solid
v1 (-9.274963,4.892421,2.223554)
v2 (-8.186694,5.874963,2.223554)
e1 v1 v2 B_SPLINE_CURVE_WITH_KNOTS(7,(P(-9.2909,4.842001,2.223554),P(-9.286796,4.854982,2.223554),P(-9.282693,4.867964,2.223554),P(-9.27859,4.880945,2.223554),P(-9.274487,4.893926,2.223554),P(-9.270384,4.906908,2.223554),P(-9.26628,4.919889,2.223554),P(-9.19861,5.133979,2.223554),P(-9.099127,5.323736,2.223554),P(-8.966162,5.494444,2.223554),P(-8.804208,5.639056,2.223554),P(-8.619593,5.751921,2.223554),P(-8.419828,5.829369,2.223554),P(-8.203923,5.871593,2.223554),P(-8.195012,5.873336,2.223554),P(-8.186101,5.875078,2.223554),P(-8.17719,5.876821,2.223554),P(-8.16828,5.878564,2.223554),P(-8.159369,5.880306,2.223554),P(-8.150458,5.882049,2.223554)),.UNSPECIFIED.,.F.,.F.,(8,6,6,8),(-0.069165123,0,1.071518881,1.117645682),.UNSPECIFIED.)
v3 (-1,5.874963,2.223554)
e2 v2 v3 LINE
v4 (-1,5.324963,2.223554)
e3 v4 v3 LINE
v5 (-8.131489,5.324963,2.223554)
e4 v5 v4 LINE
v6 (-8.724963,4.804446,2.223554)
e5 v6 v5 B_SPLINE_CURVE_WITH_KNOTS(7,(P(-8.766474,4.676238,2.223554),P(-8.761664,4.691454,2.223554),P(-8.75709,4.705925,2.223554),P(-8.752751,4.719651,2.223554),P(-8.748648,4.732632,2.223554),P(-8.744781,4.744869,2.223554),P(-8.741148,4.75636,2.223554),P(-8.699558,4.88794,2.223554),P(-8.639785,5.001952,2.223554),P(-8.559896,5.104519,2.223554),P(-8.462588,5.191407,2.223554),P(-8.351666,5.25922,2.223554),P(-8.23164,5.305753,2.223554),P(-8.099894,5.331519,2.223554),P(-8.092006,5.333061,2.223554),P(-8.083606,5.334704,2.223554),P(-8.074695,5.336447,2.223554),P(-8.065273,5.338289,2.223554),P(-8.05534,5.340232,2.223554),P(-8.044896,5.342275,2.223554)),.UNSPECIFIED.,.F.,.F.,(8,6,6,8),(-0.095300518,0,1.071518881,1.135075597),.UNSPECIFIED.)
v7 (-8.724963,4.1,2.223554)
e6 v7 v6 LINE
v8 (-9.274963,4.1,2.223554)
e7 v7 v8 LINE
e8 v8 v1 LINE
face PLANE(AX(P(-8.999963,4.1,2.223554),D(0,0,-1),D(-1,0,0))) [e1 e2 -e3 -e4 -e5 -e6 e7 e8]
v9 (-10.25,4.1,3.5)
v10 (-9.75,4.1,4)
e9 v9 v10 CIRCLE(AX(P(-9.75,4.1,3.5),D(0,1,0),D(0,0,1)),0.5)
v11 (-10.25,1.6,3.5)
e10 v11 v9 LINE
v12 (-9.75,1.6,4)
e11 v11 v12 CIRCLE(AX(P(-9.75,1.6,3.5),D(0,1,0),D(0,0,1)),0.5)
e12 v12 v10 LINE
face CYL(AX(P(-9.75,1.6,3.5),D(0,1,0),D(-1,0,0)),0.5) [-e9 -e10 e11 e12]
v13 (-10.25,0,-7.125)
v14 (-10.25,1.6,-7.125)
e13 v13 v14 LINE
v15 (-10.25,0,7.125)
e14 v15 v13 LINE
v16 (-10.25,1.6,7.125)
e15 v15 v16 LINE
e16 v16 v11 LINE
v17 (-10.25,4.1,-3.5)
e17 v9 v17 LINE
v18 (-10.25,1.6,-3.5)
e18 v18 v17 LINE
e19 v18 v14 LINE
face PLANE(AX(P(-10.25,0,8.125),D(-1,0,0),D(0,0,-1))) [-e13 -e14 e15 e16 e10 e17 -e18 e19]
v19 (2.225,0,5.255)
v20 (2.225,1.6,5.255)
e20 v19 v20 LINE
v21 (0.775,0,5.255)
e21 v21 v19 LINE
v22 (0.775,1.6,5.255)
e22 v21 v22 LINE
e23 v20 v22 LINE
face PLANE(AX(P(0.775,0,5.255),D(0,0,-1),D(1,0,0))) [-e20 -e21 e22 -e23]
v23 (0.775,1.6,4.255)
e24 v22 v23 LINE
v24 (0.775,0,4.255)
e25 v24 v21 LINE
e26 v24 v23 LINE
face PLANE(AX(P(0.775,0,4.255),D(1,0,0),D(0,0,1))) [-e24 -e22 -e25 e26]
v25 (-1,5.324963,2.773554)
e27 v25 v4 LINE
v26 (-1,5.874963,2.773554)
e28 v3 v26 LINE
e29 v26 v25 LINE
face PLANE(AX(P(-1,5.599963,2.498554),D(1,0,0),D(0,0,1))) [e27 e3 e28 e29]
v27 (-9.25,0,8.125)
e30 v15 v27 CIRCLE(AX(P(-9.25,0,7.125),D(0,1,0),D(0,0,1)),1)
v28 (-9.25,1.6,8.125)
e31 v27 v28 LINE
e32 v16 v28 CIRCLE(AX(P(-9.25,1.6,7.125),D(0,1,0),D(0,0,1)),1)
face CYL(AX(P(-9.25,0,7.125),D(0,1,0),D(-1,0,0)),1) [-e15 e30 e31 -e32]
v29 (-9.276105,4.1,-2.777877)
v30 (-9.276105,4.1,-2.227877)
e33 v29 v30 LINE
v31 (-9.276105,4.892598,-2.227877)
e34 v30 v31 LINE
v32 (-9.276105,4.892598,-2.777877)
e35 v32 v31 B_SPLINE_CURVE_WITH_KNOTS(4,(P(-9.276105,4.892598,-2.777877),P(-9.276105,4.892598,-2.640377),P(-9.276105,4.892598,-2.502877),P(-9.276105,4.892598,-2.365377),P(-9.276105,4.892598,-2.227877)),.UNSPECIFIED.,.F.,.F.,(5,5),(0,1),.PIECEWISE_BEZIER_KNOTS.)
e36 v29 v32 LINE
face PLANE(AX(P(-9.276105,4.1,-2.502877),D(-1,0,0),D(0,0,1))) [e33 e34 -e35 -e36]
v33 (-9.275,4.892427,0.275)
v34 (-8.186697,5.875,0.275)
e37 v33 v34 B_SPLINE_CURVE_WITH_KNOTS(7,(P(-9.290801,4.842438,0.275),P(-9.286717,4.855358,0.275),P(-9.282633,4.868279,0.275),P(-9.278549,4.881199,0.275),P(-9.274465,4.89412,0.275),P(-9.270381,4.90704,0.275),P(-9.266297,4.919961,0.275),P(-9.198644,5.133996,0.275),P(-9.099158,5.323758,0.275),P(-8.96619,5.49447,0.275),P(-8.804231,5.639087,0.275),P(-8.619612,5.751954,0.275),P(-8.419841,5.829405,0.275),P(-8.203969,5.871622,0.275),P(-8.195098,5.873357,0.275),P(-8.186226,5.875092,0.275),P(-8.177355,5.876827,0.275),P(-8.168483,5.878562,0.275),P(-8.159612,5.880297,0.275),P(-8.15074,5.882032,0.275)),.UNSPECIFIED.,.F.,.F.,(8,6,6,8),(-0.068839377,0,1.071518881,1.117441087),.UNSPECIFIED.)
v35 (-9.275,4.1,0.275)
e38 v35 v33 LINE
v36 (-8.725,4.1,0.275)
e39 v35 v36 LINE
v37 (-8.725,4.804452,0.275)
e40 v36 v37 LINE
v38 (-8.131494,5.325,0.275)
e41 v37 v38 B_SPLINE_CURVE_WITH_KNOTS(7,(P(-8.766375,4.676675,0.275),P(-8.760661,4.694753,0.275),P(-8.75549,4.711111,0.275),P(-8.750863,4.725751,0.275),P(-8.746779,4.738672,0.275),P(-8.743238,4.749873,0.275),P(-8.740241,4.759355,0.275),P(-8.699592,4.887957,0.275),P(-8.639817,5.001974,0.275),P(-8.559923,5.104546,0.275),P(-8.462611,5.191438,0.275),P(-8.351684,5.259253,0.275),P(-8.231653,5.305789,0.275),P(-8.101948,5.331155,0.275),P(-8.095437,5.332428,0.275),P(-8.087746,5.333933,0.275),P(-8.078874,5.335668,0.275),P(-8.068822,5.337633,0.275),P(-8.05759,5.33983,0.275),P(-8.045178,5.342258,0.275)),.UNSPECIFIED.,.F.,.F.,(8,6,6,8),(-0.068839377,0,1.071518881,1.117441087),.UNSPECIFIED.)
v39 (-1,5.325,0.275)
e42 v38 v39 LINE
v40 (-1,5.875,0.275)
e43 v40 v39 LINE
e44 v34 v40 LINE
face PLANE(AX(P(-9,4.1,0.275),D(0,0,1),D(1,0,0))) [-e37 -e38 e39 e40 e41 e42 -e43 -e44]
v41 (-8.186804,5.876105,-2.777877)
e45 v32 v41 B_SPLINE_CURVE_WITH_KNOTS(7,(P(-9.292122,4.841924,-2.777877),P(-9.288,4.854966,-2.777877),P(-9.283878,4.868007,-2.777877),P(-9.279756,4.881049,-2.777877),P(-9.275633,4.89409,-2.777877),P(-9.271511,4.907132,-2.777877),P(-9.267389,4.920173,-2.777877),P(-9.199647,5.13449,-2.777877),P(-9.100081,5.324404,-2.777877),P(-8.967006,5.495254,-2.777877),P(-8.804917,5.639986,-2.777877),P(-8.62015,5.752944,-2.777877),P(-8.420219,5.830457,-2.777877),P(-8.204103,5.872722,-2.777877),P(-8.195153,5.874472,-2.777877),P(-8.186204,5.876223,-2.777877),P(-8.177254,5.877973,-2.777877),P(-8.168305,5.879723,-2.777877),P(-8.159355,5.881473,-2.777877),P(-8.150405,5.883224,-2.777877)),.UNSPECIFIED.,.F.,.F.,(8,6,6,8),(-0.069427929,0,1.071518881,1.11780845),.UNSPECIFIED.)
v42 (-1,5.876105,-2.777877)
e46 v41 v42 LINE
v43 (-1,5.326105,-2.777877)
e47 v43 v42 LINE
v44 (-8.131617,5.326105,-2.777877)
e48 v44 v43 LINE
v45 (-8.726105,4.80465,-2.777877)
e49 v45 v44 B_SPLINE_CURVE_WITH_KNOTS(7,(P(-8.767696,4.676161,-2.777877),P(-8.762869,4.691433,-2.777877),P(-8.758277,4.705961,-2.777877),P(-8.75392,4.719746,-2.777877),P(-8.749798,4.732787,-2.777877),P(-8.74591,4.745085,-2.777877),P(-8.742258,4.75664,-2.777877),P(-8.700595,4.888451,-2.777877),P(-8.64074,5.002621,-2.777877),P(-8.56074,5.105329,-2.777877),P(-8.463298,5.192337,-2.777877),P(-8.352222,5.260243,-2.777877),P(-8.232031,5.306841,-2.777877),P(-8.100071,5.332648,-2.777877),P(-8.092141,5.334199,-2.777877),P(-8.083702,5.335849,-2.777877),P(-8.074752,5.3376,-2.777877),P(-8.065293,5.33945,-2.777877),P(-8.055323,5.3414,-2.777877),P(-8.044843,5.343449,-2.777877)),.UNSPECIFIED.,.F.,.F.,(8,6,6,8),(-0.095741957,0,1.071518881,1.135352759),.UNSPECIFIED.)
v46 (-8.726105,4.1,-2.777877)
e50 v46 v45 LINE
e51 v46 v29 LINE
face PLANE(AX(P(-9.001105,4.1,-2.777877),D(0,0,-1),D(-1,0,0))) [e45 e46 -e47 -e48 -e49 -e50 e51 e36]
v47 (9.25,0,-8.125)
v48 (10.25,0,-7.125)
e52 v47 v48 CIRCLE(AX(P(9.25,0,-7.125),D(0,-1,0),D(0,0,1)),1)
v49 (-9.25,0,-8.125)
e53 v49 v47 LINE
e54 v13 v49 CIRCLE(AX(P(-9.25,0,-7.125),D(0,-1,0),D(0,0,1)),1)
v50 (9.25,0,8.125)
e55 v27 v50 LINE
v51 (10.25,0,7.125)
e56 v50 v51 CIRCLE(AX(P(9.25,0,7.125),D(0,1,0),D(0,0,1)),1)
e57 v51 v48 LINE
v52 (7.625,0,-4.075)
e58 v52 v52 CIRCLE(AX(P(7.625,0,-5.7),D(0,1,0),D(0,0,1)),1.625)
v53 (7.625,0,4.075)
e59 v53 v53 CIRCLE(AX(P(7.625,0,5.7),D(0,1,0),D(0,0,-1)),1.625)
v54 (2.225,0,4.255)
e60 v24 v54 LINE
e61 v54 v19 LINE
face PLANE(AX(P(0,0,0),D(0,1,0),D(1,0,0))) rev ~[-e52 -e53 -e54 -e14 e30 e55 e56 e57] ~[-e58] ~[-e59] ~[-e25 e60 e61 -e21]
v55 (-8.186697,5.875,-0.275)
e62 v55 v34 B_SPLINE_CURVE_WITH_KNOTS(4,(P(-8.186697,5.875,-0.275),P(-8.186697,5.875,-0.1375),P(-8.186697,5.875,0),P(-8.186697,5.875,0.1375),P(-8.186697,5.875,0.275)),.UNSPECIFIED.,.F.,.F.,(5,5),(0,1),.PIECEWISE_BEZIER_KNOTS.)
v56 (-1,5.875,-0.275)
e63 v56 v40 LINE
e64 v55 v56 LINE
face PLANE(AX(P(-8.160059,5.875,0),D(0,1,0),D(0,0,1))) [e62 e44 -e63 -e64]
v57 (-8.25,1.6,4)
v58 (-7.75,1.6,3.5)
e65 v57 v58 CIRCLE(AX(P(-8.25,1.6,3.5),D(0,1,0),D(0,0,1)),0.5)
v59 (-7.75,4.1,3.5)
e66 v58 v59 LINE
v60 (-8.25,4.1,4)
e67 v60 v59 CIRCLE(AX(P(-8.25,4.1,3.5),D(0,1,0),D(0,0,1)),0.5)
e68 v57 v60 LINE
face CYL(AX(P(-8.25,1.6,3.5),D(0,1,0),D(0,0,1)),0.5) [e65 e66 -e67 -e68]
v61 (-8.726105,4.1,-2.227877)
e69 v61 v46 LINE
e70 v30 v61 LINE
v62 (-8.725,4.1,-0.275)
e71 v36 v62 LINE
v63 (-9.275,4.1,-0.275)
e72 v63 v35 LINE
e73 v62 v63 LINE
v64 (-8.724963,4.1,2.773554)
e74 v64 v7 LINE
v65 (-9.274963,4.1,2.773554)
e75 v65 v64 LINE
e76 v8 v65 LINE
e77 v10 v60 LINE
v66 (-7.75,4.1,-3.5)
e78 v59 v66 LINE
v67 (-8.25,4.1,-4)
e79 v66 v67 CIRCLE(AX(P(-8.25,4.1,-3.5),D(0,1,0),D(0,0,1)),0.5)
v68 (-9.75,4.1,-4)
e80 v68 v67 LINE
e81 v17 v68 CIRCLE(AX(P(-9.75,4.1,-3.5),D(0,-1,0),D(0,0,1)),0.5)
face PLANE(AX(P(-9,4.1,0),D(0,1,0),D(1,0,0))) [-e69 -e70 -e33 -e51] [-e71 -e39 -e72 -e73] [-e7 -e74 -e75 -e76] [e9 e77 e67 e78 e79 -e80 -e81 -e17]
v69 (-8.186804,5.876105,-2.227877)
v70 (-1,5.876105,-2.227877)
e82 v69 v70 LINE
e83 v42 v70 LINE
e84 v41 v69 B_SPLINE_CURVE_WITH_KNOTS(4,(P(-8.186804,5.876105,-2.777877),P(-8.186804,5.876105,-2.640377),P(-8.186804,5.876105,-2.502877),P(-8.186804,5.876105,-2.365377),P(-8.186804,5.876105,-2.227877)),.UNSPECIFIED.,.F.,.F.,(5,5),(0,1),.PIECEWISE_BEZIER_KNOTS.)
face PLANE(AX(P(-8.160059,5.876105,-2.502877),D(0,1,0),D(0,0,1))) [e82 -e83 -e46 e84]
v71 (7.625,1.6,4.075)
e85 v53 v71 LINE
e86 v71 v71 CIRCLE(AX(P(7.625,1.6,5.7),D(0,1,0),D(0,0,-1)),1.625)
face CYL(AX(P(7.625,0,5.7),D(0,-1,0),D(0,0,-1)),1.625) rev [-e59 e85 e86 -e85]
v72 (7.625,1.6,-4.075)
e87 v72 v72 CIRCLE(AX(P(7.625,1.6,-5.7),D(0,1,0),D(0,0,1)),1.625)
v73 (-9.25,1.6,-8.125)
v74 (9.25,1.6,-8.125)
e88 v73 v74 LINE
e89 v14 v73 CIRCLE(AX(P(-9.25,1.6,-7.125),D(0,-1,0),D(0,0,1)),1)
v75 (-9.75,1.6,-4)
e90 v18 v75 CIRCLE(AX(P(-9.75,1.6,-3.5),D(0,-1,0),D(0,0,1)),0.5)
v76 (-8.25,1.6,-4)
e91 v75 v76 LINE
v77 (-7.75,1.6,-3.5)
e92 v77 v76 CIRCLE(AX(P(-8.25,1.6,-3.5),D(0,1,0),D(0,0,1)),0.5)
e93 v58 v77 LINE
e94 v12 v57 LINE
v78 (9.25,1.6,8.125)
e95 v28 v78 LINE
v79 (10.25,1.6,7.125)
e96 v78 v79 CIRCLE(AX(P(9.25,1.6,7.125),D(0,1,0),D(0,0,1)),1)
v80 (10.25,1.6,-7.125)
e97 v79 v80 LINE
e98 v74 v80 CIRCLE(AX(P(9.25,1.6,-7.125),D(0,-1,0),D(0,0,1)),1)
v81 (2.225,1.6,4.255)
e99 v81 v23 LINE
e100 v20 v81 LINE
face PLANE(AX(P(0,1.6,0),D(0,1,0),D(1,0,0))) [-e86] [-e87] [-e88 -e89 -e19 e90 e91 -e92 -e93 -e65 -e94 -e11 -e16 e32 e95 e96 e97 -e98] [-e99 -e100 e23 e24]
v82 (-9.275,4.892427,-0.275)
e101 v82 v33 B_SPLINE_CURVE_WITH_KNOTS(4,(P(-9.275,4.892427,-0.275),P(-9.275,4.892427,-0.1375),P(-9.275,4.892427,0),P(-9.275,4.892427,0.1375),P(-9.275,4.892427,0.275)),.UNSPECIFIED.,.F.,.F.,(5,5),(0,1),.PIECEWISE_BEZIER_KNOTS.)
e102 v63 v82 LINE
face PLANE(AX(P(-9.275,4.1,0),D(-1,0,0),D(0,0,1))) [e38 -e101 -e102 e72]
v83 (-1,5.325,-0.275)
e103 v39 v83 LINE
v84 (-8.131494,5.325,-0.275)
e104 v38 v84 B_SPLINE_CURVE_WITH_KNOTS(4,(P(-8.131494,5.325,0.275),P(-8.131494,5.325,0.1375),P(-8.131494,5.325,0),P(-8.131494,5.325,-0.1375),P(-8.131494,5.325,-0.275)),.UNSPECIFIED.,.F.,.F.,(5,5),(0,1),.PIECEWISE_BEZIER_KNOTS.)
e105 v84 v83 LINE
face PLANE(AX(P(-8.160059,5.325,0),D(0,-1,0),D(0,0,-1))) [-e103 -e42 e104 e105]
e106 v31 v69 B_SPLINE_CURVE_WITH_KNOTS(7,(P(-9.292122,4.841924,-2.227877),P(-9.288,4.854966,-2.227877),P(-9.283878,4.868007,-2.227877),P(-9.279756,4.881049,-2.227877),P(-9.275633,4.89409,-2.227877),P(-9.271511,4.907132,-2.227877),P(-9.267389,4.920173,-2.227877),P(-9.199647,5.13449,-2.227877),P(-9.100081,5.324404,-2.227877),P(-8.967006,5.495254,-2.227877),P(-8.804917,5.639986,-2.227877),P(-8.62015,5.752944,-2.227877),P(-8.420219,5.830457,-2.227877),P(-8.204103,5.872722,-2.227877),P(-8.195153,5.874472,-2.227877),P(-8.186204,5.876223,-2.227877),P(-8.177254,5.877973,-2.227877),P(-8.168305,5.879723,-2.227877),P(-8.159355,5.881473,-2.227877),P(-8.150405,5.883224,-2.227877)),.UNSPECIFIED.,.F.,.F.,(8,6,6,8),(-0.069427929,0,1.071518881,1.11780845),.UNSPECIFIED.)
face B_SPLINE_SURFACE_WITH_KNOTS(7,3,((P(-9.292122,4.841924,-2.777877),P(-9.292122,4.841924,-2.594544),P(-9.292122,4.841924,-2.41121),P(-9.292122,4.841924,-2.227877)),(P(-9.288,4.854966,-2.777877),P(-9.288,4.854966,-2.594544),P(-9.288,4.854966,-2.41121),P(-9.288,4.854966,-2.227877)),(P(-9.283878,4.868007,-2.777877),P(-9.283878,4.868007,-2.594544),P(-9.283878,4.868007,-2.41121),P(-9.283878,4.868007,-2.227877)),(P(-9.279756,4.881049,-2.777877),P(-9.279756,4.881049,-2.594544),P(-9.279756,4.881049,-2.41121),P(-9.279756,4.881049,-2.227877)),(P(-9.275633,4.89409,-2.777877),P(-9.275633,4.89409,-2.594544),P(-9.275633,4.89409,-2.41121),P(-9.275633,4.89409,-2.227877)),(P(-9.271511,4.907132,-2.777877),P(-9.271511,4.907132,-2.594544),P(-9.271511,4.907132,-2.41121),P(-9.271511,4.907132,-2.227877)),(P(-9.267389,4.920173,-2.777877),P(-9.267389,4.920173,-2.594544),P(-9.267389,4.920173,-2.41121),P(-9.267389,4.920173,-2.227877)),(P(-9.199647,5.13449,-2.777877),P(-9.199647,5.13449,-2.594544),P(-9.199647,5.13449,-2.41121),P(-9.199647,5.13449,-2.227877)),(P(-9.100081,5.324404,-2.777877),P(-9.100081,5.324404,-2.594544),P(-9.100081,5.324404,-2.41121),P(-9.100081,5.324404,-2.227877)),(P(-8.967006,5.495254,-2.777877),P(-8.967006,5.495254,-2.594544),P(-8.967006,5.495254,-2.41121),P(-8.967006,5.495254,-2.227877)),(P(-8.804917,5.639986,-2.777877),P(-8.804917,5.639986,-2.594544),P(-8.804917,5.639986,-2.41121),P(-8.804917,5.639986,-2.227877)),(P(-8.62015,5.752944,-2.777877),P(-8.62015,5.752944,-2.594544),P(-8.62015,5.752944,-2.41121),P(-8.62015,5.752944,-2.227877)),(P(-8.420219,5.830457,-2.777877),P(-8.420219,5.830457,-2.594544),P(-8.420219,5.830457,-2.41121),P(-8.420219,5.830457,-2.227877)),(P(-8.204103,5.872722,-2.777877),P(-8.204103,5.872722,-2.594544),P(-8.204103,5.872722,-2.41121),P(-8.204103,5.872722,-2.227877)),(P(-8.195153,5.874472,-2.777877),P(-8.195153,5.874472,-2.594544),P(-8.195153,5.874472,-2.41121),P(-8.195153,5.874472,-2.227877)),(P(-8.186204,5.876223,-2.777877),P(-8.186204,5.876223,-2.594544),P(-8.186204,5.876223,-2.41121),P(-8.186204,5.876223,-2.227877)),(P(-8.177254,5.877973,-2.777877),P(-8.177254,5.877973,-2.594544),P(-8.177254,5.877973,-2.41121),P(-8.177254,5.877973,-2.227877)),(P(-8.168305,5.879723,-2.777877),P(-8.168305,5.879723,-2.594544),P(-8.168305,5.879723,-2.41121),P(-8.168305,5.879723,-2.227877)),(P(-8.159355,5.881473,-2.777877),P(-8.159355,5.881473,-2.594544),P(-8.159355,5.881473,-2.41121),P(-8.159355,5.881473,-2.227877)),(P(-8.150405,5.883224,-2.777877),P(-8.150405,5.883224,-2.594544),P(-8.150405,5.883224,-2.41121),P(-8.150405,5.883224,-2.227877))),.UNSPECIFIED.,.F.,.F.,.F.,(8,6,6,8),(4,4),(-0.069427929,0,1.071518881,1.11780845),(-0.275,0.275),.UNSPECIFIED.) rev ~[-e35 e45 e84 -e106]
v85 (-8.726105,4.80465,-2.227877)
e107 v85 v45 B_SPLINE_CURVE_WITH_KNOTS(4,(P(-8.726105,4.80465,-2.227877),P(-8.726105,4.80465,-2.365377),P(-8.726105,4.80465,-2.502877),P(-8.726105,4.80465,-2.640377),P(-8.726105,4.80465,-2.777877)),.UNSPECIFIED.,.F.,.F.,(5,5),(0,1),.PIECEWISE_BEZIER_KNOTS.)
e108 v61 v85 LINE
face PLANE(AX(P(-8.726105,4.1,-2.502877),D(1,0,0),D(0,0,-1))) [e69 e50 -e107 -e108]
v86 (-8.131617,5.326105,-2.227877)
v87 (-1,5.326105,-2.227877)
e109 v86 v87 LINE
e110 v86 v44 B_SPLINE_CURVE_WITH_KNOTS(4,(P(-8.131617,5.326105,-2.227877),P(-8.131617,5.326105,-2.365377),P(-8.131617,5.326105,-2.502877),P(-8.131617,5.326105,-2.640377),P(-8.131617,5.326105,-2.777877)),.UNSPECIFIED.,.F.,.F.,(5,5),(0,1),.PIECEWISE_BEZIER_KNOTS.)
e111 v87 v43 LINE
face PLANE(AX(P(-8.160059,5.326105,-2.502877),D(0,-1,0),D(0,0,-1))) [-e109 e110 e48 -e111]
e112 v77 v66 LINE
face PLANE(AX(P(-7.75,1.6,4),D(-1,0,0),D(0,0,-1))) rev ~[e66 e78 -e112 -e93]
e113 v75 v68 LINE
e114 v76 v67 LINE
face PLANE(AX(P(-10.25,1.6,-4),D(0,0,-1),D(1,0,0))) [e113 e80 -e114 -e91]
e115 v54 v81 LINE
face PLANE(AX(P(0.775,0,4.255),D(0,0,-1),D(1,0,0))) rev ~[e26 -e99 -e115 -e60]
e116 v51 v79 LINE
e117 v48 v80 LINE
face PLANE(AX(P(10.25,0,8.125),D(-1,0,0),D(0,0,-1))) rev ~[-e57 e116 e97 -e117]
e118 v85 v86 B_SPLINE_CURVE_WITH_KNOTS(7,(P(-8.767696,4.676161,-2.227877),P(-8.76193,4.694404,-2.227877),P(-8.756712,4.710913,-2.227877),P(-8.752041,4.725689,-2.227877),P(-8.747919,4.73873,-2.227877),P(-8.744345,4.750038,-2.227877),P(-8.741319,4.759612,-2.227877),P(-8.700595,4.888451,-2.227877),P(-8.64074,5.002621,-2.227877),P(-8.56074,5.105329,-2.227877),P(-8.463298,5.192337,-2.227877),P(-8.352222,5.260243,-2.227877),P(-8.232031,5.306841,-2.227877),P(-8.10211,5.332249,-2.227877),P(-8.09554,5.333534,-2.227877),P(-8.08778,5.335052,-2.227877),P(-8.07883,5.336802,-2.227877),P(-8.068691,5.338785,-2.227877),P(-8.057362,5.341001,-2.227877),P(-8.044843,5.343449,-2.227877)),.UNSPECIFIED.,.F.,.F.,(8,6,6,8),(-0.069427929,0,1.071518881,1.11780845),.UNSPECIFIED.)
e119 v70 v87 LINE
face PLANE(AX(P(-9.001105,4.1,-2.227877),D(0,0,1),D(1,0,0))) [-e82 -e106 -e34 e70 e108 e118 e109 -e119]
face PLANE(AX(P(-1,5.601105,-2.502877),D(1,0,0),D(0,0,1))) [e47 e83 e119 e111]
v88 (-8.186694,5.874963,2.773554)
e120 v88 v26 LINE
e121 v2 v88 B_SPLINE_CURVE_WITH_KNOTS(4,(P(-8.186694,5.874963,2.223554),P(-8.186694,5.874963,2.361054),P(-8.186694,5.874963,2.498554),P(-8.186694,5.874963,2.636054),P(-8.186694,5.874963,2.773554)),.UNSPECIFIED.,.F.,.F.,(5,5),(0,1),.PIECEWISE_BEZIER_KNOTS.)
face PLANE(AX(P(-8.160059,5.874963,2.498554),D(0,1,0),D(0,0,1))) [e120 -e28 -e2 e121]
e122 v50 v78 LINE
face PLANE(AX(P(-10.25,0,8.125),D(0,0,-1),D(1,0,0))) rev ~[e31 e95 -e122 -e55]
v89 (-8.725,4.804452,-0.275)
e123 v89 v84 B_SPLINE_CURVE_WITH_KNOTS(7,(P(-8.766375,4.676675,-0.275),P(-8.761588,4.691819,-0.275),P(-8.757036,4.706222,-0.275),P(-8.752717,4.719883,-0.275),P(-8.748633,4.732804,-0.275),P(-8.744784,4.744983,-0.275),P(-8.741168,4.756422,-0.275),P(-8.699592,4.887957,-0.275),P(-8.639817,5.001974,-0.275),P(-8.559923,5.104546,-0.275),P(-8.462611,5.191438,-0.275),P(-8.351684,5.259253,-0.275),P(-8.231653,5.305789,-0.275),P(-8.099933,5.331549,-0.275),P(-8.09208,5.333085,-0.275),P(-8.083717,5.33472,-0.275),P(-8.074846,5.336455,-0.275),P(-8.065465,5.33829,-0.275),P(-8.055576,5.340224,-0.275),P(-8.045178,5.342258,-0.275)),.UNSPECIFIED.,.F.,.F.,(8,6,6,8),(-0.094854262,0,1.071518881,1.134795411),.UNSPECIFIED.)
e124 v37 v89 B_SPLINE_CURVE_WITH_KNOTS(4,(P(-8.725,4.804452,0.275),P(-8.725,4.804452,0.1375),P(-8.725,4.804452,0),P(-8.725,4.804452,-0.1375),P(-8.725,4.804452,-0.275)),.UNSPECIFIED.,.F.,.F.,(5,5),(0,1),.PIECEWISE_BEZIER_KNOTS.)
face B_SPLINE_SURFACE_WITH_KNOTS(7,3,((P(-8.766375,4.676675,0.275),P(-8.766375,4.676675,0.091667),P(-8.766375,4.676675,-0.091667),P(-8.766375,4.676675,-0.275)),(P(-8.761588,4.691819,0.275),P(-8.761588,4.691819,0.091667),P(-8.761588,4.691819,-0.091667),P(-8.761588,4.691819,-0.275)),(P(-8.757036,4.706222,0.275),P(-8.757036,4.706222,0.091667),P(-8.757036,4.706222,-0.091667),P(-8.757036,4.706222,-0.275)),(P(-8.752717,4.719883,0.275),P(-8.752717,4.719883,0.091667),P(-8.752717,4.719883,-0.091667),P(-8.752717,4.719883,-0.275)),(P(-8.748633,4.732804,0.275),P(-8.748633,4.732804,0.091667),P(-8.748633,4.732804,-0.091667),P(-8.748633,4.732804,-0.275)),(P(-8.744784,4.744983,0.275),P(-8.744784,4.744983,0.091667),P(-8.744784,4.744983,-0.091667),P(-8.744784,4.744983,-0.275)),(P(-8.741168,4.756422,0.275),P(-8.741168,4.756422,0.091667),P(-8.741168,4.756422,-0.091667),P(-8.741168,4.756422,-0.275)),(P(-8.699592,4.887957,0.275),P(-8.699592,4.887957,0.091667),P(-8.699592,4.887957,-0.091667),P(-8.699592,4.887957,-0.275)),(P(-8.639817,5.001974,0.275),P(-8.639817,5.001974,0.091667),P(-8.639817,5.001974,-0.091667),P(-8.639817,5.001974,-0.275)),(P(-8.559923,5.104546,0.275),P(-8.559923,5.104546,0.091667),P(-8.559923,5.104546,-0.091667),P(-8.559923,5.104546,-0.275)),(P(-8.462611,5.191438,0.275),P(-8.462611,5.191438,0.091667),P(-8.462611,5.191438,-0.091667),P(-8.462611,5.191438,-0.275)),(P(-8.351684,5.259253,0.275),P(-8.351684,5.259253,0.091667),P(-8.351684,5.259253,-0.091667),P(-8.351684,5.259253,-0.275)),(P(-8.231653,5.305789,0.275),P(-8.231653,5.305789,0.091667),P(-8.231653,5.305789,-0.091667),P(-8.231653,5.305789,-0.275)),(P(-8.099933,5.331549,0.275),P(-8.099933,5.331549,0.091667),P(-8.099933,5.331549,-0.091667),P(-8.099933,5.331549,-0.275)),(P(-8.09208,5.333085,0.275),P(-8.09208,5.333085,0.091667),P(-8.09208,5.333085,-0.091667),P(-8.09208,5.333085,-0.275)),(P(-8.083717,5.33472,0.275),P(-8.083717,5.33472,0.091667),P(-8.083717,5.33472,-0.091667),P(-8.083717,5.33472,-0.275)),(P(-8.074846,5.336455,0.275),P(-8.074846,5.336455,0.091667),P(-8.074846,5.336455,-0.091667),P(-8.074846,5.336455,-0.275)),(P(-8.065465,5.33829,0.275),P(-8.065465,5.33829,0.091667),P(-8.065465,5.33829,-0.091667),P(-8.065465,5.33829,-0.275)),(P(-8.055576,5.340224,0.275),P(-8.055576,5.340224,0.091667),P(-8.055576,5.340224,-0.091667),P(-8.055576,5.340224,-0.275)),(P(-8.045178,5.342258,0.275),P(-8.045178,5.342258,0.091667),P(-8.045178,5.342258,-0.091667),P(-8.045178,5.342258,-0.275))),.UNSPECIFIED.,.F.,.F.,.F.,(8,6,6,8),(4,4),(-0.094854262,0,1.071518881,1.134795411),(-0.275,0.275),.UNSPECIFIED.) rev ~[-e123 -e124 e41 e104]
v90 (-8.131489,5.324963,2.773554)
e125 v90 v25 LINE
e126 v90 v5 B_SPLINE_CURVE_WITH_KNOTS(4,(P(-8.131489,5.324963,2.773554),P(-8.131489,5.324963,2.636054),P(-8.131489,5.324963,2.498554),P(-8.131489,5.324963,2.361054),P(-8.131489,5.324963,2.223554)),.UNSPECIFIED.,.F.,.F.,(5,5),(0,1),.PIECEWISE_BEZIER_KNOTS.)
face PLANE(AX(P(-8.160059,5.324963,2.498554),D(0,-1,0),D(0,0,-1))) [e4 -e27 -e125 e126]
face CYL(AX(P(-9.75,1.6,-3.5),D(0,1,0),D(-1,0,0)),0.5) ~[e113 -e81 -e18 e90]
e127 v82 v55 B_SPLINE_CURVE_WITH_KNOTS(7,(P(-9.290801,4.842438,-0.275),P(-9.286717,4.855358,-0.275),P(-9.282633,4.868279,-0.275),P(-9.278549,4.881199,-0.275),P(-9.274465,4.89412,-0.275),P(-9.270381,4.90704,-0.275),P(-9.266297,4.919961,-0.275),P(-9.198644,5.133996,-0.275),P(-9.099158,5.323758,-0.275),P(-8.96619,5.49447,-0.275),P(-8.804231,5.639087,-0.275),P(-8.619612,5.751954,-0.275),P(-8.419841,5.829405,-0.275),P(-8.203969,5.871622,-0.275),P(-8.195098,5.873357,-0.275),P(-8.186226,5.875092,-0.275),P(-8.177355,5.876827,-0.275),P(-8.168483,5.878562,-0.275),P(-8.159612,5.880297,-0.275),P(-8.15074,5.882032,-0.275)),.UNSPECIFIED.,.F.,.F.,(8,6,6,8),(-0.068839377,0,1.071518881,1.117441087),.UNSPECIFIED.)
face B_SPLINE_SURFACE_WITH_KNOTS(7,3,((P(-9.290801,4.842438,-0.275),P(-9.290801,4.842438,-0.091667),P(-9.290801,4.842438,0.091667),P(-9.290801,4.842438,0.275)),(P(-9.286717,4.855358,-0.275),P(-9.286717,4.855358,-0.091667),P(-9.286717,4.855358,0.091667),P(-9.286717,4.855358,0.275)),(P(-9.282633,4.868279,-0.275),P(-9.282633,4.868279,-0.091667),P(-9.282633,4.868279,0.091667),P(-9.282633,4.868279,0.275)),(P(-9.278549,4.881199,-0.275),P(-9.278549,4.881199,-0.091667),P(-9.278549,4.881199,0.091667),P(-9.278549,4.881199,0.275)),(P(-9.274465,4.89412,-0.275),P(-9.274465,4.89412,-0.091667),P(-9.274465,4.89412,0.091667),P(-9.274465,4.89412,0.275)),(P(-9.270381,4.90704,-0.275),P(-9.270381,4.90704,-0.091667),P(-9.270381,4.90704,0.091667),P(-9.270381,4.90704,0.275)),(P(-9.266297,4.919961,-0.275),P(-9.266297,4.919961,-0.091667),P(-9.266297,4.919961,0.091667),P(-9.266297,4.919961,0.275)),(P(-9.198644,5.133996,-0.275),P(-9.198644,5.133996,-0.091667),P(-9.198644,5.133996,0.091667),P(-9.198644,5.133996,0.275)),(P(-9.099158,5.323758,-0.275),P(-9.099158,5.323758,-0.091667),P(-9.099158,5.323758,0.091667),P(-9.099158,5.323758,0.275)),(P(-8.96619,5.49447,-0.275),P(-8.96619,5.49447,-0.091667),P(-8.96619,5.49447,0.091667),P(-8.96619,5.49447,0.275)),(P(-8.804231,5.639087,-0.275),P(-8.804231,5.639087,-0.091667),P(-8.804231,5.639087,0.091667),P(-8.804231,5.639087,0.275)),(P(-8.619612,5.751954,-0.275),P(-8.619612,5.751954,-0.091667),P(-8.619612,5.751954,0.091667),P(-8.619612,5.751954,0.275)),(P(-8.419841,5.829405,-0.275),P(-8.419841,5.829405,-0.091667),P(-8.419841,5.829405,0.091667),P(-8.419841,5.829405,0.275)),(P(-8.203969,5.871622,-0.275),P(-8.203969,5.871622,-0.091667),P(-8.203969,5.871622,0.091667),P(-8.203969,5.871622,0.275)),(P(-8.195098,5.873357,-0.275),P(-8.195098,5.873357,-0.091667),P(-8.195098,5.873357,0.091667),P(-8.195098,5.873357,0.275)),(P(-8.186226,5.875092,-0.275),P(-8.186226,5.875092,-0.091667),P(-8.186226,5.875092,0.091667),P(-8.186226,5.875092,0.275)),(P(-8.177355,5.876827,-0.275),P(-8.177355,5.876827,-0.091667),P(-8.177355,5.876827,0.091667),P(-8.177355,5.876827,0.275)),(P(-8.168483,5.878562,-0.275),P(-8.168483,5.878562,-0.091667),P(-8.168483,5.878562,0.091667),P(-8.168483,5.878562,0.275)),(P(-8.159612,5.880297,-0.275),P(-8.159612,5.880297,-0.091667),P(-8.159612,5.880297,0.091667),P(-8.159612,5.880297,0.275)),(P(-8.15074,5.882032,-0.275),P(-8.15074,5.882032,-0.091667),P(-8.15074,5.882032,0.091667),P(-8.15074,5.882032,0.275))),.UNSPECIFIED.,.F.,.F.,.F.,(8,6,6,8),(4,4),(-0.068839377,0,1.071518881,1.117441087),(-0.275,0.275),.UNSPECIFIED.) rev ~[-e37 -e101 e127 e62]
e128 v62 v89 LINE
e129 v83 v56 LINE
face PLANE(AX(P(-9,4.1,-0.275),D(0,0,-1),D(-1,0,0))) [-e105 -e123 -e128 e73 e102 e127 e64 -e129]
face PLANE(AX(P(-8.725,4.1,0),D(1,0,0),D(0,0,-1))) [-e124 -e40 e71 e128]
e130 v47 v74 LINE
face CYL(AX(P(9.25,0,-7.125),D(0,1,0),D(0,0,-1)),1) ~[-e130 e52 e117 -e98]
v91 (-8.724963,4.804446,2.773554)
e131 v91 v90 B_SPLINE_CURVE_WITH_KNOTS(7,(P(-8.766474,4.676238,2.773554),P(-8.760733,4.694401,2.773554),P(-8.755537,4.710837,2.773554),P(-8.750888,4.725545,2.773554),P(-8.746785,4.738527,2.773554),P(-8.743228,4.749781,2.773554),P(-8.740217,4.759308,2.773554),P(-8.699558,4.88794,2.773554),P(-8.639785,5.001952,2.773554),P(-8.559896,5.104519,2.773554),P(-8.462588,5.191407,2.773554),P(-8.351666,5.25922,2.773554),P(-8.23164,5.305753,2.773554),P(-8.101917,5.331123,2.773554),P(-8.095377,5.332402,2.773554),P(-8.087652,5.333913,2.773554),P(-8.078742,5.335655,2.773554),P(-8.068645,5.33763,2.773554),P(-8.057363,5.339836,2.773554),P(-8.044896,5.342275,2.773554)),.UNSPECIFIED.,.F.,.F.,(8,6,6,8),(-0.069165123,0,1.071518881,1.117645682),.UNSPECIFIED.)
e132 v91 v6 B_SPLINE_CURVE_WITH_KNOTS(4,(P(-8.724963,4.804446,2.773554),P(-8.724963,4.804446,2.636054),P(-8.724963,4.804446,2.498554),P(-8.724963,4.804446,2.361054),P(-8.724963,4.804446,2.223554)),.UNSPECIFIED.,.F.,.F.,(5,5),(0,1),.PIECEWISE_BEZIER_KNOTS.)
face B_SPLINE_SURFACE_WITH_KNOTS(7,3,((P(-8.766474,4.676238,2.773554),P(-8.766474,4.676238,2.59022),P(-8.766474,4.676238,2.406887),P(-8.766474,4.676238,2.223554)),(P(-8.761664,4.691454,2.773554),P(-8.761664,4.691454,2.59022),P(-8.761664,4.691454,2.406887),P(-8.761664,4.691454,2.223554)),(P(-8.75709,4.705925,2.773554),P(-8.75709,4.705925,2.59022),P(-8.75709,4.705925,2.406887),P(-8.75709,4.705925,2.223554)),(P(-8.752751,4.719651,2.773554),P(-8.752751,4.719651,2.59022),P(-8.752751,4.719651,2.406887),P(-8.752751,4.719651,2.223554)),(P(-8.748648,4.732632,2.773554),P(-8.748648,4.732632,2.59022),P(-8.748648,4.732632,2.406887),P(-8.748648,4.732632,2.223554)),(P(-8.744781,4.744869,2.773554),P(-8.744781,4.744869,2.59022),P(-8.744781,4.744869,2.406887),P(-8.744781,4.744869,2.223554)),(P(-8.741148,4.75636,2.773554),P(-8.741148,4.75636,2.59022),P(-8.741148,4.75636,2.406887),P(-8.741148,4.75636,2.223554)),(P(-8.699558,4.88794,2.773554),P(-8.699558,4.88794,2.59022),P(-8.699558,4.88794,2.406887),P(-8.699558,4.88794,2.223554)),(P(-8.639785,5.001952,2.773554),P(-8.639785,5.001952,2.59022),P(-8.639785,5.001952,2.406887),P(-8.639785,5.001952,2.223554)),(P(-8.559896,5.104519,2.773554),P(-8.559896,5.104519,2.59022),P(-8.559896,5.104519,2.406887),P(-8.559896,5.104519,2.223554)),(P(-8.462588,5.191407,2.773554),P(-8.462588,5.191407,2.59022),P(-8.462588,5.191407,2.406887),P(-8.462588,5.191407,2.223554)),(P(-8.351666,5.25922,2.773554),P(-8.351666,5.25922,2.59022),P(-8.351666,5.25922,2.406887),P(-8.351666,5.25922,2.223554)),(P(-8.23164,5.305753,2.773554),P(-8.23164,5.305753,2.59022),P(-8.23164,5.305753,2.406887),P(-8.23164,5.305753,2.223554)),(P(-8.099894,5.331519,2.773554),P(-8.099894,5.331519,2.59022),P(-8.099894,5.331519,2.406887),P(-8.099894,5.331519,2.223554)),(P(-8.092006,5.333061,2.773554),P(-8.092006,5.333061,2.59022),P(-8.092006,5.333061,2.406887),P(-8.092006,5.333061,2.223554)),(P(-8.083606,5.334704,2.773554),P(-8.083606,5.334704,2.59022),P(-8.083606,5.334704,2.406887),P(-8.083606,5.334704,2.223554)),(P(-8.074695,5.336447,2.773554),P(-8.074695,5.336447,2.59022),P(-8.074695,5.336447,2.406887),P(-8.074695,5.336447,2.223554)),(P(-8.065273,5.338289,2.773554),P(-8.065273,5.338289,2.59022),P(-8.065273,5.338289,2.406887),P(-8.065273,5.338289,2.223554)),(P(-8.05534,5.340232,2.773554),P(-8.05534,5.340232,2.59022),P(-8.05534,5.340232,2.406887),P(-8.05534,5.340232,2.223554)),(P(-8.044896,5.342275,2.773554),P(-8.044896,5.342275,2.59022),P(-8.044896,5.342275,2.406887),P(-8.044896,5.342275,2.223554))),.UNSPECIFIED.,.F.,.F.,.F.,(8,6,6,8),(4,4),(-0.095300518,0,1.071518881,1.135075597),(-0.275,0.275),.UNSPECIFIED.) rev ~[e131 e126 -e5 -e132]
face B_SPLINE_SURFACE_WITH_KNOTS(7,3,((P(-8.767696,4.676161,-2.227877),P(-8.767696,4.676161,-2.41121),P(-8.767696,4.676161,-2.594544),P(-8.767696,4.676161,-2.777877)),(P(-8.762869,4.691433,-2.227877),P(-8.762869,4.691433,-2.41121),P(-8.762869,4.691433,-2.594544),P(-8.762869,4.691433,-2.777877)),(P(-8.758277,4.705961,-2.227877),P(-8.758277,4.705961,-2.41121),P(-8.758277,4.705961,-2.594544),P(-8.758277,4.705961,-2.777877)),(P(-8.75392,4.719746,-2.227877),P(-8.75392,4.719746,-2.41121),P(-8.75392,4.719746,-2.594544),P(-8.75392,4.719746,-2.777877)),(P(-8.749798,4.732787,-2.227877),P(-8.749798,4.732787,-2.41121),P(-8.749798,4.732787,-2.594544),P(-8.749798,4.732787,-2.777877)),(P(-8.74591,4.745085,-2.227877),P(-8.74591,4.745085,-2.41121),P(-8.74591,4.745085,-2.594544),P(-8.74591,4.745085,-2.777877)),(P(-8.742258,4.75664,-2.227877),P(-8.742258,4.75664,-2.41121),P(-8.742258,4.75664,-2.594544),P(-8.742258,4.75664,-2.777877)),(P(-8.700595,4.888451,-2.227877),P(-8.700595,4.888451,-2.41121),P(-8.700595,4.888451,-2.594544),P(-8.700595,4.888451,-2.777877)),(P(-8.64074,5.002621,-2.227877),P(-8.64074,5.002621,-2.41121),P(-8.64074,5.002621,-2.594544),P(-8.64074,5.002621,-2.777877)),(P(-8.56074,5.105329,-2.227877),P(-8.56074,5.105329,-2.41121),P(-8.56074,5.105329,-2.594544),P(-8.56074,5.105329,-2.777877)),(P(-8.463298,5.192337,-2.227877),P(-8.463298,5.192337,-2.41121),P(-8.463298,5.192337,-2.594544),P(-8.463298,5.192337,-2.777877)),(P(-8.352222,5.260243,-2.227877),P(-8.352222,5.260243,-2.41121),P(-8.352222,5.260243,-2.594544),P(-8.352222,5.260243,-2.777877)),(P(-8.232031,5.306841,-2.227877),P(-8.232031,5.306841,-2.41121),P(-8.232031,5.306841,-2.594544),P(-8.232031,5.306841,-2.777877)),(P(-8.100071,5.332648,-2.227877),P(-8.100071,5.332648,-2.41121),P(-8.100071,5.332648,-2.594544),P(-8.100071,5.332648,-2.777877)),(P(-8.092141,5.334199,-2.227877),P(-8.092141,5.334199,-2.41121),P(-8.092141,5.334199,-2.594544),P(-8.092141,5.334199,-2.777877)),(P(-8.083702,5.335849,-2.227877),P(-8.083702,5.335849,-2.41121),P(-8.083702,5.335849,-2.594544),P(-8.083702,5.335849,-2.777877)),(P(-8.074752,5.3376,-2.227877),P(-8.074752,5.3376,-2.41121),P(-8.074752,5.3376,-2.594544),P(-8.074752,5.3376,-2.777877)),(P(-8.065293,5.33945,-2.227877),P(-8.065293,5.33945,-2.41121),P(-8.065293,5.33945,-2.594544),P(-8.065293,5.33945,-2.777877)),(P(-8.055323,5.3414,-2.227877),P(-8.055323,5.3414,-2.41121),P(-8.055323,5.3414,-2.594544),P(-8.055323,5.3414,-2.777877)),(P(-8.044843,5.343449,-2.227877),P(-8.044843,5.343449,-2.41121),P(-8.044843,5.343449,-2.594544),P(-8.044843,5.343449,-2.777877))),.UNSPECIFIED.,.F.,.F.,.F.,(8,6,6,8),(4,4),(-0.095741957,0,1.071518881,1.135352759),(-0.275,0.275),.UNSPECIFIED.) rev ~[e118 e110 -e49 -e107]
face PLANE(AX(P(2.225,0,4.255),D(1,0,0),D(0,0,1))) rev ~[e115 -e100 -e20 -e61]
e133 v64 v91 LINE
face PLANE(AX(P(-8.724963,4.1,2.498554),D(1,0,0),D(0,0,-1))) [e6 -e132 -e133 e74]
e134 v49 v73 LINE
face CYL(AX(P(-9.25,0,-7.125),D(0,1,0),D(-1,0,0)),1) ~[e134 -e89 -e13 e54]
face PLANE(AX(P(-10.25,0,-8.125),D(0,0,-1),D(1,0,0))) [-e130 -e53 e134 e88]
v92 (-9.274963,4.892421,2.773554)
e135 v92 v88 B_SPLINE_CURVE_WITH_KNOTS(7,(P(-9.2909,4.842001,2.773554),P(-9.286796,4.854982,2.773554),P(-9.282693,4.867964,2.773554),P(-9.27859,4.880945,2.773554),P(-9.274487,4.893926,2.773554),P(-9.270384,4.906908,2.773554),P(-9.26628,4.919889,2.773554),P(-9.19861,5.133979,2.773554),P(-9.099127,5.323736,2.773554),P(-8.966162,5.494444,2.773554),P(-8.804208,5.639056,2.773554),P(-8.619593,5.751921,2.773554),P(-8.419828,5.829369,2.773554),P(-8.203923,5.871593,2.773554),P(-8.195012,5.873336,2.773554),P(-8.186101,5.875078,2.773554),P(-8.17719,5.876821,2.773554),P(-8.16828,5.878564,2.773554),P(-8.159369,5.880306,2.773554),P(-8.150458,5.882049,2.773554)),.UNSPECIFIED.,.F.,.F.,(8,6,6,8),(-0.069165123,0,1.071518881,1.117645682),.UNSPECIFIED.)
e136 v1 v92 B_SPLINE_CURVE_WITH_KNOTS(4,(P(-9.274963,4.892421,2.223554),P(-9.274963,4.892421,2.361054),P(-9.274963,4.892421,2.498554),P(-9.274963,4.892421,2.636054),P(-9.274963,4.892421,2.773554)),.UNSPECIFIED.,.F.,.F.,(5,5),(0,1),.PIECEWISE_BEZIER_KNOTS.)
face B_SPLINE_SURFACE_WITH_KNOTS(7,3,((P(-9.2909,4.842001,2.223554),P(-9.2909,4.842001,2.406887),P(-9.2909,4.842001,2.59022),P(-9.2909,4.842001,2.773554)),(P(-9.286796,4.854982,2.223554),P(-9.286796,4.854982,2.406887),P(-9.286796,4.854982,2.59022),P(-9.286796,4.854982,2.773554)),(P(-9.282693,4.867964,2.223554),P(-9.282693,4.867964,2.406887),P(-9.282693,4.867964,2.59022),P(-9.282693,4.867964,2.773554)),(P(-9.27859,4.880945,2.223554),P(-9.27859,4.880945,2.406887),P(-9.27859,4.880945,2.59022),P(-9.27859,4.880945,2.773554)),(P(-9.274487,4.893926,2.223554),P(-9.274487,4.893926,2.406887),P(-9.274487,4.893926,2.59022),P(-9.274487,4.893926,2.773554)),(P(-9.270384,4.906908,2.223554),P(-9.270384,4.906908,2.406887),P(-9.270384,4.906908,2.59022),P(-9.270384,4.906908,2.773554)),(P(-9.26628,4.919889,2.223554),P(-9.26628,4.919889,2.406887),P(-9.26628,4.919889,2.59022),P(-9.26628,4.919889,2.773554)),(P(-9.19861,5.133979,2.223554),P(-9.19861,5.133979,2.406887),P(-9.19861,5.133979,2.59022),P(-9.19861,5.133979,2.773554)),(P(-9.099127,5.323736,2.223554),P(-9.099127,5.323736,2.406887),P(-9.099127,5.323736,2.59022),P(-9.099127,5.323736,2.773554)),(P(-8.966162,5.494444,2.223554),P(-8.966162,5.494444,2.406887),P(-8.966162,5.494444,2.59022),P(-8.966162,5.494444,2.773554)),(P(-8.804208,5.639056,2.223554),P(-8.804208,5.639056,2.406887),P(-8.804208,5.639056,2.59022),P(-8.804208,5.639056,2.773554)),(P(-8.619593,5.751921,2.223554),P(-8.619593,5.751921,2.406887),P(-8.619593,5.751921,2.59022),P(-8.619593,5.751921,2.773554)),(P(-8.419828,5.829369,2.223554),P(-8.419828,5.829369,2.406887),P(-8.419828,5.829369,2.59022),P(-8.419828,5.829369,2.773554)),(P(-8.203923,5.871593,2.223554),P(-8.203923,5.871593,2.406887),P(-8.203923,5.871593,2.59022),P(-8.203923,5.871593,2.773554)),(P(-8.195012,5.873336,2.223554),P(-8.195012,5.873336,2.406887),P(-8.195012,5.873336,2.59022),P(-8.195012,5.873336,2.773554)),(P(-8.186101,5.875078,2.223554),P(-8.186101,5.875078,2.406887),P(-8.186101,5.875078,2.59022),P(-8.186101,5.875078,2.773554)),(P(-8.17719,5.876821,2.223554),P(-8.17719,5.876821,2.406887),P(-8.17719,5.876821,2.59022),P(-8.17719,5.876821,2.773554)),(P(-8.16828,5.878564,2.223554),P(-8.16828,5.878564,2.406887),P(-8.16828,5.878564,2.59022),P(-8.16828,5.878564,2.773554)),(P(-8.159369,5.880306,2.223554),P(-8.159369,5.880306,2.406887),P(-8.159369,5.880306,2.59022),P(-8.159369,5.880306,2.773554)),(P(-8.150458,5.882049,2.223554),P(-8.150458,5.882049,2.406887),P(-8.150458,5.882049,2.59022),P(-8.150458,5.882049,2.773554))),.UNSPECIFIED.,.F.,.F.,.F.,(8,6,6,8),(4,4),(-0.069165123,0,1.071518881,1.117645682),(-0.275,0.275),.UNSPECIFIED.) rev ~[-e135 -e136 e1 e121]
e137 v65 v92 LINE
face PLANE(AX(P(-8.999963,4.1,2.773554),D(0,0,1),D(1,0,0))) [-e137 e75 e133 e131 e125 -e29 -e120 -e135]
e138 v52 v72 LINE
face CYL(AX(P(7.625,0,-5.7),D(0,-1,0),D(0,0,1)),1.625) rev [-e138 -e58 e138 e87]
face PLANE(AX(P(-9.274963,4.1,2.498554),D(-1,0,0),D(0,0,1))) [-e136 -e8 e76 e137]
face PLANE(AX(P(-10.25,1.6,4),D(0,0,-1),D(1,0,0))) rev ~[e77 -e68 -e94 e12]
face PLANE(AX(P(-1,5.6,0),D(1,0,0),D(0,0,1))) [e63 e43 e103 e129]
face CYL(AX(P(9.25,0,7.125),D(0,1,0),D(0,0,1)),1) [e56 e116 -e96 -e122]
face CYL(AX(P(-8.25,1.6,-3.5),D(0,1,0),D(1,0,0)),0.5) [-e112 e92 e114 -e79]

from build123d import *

# Parameters (mm, degrees)
SKETCH1_W           = 20.5
SKETCH1_H           = 16.25
SKETCH1_R           = 1.625
BOSS_EXTRUDE1_DEPTH = 1.6
FILLET1_R           = 1
SKETCH2_W           = 2.5
SKETCH2_H           = 8
BOSS_EXTRUDE2_DEPTH = 2.5
FILLET2_R           = 0.5
SKETCH8_W           = 0.55
SKETCH8_H           = 0.55
SKETCH9_W           = 0.55
SKETCH9_H           = 0.55
SKETCH12_W          = 0.55
SKETCH12_H          = 0.55
SKETCH13_W          = 1.45
SKETCH13_H          = 1
CUT_EXTRUDE1_DEPTH  = 4


with BuildPart() as part:
    # Sketch1 → Boss-Extrude1 (new body)
    with BuildSketch(Plane(origin=(0, 0, 0), x_dir=(1, 0, 0), z_dir=(0, 1, 0))):
        Rectangle(SKETCH1_W, SKETCH1_H)
        with Locations(Location((7.625, 5.7, 0), (0, 0, 270))):
            Circle(SKETCH1_R, mode=Mode.SUBTRACT)
        with Locations(Location((7.625, -5.7, 0), (0, 0, 90))):
            Circle(SKETCH1_R, mode=Mode.SUBTRACT)
    extrude(amount=BOSS_EXTRUDE1_DEPTH)

    # Fillet1
    fillet1_edges = [part.edges().sort_by_distance(p)[0] for p in [
        (10.25, 0.8, 8.125),
        (-10.25, 0.8, 8.125),
        (-10.25, 0.8, -8.125),
        (10.25, 0.8, -8.125),
    ]]
    fillet(fillet1_edges, radius=FILLET1_R)

    # Sketch2 → Boss-Extrude2 (add)
    with BuildSketch(Plane(origin=(0, 1.6, 0), x_dir=(1, 0, 0), z_dir=(0, 1, 0))):
        with Locations((-9, 0)):
            Rectangle(SKETCH2_W, SKETCH2_H)
    extrude(amount=BOSS_EXTRUDE2_DEPTH)

    # Fillet2
    fillet2_edges = [part.edges().sort_by_distance(p)[0] for p in [
        (-7.75, 2.85, 4),
        (-7.75, 2.85, -4),
        (-10.25, 2.85, -4),
        (-10.25, 2.85, 4),
    ]]
    fillet(fillet2_edges, radius=FILLET2_R)

    # Sweep2: sweep along a path in Sketch5
    with BuildLine(Plane.XY.offset(-2.5)) as sweep2_path:
        Line((-9, 4.1), (-9, 4.85))
        ThreePointArc((-9, 4.85), (-8.682958383, 5.34027213), (-8.160059174, 5.6))
        Line((-8.160059174, 5.6), (-1, 5.6))
    # Sketch8 → Sweep2 (sweep)
    with BuildSketch(Plane(origin=(0, 4.1, 0), x_dir=(1, 0, 0), z_dir=(0, 1, 0))):
        with Locations((-9.001105099, 2.502876889)):
            Rectangle(SKETCH8_W, SKETCH8_H)
    sweep(path=sweep2_path.line, transition=Transition.RIGHT)

    # Sweep3: sweep along a path in Sketch6
    with BuildLine(Plane.XY.offset(2.5)) as sweep3_path:
        Line((-9, 4.1), (-9, 4.85))
        ThreePointArc((-9, 4.85), (-8.682958383, 5.34027213), (-8.160059174, 5.6))
        Line((-8.160059174, 5.6), (-1, 5.6))
    # Sketch9 → Sweep3 (sweep)
    with BuildSketch(Plane(origin=(0, 4.1, 0), x_dir=(1, 0, 0), z_dir=(0, 1, 0))):
        with Locations((-8.999962547, -2.498553748)):
            Rectangle(SKETCH9_W, SKETCH9_H)
    sweep(path=sweep3_path.line, transition=Transition.RIGHT)

    # Sweep4: sweep along a path in Sketch11
    with BuildLine(Plane.XY) as sweep4_path:
        Line((-9, 4.1), (-9, 4.85))
        ThreePointArc((-9, 4.85), (-8.682958383, 5.34027213), (-8.160059174, 5.6))
        Line((-8.160059174, 5.6), (-1, 5.6))
    # Sketch12 → Sweep4 (sweep)
    with BuildSketch(Plane(origin=(0, 4.1, 0), x_dir=(1, 0, 0), z_dir=(0, 1, 0))):
        with Locations((-9, 0)):
            Rectangle(SKETCH12_W, SKETCH12_H)
    sweep(path=sweep4_path.line, transition=Transition.RIGHT)

    # Sketch13 → Cut-Extrude1 (cut)
    with BuildSketch(Plane.XZ):
        with Locations((1.5, 4.755)):
            Rectangle(SKETCH13_W, SKETCH13_H)
    extrude(amount=-CUT_EXTRUDE1_DEPTH, mode=Mode.SUBTRACT)


solid = part.part
